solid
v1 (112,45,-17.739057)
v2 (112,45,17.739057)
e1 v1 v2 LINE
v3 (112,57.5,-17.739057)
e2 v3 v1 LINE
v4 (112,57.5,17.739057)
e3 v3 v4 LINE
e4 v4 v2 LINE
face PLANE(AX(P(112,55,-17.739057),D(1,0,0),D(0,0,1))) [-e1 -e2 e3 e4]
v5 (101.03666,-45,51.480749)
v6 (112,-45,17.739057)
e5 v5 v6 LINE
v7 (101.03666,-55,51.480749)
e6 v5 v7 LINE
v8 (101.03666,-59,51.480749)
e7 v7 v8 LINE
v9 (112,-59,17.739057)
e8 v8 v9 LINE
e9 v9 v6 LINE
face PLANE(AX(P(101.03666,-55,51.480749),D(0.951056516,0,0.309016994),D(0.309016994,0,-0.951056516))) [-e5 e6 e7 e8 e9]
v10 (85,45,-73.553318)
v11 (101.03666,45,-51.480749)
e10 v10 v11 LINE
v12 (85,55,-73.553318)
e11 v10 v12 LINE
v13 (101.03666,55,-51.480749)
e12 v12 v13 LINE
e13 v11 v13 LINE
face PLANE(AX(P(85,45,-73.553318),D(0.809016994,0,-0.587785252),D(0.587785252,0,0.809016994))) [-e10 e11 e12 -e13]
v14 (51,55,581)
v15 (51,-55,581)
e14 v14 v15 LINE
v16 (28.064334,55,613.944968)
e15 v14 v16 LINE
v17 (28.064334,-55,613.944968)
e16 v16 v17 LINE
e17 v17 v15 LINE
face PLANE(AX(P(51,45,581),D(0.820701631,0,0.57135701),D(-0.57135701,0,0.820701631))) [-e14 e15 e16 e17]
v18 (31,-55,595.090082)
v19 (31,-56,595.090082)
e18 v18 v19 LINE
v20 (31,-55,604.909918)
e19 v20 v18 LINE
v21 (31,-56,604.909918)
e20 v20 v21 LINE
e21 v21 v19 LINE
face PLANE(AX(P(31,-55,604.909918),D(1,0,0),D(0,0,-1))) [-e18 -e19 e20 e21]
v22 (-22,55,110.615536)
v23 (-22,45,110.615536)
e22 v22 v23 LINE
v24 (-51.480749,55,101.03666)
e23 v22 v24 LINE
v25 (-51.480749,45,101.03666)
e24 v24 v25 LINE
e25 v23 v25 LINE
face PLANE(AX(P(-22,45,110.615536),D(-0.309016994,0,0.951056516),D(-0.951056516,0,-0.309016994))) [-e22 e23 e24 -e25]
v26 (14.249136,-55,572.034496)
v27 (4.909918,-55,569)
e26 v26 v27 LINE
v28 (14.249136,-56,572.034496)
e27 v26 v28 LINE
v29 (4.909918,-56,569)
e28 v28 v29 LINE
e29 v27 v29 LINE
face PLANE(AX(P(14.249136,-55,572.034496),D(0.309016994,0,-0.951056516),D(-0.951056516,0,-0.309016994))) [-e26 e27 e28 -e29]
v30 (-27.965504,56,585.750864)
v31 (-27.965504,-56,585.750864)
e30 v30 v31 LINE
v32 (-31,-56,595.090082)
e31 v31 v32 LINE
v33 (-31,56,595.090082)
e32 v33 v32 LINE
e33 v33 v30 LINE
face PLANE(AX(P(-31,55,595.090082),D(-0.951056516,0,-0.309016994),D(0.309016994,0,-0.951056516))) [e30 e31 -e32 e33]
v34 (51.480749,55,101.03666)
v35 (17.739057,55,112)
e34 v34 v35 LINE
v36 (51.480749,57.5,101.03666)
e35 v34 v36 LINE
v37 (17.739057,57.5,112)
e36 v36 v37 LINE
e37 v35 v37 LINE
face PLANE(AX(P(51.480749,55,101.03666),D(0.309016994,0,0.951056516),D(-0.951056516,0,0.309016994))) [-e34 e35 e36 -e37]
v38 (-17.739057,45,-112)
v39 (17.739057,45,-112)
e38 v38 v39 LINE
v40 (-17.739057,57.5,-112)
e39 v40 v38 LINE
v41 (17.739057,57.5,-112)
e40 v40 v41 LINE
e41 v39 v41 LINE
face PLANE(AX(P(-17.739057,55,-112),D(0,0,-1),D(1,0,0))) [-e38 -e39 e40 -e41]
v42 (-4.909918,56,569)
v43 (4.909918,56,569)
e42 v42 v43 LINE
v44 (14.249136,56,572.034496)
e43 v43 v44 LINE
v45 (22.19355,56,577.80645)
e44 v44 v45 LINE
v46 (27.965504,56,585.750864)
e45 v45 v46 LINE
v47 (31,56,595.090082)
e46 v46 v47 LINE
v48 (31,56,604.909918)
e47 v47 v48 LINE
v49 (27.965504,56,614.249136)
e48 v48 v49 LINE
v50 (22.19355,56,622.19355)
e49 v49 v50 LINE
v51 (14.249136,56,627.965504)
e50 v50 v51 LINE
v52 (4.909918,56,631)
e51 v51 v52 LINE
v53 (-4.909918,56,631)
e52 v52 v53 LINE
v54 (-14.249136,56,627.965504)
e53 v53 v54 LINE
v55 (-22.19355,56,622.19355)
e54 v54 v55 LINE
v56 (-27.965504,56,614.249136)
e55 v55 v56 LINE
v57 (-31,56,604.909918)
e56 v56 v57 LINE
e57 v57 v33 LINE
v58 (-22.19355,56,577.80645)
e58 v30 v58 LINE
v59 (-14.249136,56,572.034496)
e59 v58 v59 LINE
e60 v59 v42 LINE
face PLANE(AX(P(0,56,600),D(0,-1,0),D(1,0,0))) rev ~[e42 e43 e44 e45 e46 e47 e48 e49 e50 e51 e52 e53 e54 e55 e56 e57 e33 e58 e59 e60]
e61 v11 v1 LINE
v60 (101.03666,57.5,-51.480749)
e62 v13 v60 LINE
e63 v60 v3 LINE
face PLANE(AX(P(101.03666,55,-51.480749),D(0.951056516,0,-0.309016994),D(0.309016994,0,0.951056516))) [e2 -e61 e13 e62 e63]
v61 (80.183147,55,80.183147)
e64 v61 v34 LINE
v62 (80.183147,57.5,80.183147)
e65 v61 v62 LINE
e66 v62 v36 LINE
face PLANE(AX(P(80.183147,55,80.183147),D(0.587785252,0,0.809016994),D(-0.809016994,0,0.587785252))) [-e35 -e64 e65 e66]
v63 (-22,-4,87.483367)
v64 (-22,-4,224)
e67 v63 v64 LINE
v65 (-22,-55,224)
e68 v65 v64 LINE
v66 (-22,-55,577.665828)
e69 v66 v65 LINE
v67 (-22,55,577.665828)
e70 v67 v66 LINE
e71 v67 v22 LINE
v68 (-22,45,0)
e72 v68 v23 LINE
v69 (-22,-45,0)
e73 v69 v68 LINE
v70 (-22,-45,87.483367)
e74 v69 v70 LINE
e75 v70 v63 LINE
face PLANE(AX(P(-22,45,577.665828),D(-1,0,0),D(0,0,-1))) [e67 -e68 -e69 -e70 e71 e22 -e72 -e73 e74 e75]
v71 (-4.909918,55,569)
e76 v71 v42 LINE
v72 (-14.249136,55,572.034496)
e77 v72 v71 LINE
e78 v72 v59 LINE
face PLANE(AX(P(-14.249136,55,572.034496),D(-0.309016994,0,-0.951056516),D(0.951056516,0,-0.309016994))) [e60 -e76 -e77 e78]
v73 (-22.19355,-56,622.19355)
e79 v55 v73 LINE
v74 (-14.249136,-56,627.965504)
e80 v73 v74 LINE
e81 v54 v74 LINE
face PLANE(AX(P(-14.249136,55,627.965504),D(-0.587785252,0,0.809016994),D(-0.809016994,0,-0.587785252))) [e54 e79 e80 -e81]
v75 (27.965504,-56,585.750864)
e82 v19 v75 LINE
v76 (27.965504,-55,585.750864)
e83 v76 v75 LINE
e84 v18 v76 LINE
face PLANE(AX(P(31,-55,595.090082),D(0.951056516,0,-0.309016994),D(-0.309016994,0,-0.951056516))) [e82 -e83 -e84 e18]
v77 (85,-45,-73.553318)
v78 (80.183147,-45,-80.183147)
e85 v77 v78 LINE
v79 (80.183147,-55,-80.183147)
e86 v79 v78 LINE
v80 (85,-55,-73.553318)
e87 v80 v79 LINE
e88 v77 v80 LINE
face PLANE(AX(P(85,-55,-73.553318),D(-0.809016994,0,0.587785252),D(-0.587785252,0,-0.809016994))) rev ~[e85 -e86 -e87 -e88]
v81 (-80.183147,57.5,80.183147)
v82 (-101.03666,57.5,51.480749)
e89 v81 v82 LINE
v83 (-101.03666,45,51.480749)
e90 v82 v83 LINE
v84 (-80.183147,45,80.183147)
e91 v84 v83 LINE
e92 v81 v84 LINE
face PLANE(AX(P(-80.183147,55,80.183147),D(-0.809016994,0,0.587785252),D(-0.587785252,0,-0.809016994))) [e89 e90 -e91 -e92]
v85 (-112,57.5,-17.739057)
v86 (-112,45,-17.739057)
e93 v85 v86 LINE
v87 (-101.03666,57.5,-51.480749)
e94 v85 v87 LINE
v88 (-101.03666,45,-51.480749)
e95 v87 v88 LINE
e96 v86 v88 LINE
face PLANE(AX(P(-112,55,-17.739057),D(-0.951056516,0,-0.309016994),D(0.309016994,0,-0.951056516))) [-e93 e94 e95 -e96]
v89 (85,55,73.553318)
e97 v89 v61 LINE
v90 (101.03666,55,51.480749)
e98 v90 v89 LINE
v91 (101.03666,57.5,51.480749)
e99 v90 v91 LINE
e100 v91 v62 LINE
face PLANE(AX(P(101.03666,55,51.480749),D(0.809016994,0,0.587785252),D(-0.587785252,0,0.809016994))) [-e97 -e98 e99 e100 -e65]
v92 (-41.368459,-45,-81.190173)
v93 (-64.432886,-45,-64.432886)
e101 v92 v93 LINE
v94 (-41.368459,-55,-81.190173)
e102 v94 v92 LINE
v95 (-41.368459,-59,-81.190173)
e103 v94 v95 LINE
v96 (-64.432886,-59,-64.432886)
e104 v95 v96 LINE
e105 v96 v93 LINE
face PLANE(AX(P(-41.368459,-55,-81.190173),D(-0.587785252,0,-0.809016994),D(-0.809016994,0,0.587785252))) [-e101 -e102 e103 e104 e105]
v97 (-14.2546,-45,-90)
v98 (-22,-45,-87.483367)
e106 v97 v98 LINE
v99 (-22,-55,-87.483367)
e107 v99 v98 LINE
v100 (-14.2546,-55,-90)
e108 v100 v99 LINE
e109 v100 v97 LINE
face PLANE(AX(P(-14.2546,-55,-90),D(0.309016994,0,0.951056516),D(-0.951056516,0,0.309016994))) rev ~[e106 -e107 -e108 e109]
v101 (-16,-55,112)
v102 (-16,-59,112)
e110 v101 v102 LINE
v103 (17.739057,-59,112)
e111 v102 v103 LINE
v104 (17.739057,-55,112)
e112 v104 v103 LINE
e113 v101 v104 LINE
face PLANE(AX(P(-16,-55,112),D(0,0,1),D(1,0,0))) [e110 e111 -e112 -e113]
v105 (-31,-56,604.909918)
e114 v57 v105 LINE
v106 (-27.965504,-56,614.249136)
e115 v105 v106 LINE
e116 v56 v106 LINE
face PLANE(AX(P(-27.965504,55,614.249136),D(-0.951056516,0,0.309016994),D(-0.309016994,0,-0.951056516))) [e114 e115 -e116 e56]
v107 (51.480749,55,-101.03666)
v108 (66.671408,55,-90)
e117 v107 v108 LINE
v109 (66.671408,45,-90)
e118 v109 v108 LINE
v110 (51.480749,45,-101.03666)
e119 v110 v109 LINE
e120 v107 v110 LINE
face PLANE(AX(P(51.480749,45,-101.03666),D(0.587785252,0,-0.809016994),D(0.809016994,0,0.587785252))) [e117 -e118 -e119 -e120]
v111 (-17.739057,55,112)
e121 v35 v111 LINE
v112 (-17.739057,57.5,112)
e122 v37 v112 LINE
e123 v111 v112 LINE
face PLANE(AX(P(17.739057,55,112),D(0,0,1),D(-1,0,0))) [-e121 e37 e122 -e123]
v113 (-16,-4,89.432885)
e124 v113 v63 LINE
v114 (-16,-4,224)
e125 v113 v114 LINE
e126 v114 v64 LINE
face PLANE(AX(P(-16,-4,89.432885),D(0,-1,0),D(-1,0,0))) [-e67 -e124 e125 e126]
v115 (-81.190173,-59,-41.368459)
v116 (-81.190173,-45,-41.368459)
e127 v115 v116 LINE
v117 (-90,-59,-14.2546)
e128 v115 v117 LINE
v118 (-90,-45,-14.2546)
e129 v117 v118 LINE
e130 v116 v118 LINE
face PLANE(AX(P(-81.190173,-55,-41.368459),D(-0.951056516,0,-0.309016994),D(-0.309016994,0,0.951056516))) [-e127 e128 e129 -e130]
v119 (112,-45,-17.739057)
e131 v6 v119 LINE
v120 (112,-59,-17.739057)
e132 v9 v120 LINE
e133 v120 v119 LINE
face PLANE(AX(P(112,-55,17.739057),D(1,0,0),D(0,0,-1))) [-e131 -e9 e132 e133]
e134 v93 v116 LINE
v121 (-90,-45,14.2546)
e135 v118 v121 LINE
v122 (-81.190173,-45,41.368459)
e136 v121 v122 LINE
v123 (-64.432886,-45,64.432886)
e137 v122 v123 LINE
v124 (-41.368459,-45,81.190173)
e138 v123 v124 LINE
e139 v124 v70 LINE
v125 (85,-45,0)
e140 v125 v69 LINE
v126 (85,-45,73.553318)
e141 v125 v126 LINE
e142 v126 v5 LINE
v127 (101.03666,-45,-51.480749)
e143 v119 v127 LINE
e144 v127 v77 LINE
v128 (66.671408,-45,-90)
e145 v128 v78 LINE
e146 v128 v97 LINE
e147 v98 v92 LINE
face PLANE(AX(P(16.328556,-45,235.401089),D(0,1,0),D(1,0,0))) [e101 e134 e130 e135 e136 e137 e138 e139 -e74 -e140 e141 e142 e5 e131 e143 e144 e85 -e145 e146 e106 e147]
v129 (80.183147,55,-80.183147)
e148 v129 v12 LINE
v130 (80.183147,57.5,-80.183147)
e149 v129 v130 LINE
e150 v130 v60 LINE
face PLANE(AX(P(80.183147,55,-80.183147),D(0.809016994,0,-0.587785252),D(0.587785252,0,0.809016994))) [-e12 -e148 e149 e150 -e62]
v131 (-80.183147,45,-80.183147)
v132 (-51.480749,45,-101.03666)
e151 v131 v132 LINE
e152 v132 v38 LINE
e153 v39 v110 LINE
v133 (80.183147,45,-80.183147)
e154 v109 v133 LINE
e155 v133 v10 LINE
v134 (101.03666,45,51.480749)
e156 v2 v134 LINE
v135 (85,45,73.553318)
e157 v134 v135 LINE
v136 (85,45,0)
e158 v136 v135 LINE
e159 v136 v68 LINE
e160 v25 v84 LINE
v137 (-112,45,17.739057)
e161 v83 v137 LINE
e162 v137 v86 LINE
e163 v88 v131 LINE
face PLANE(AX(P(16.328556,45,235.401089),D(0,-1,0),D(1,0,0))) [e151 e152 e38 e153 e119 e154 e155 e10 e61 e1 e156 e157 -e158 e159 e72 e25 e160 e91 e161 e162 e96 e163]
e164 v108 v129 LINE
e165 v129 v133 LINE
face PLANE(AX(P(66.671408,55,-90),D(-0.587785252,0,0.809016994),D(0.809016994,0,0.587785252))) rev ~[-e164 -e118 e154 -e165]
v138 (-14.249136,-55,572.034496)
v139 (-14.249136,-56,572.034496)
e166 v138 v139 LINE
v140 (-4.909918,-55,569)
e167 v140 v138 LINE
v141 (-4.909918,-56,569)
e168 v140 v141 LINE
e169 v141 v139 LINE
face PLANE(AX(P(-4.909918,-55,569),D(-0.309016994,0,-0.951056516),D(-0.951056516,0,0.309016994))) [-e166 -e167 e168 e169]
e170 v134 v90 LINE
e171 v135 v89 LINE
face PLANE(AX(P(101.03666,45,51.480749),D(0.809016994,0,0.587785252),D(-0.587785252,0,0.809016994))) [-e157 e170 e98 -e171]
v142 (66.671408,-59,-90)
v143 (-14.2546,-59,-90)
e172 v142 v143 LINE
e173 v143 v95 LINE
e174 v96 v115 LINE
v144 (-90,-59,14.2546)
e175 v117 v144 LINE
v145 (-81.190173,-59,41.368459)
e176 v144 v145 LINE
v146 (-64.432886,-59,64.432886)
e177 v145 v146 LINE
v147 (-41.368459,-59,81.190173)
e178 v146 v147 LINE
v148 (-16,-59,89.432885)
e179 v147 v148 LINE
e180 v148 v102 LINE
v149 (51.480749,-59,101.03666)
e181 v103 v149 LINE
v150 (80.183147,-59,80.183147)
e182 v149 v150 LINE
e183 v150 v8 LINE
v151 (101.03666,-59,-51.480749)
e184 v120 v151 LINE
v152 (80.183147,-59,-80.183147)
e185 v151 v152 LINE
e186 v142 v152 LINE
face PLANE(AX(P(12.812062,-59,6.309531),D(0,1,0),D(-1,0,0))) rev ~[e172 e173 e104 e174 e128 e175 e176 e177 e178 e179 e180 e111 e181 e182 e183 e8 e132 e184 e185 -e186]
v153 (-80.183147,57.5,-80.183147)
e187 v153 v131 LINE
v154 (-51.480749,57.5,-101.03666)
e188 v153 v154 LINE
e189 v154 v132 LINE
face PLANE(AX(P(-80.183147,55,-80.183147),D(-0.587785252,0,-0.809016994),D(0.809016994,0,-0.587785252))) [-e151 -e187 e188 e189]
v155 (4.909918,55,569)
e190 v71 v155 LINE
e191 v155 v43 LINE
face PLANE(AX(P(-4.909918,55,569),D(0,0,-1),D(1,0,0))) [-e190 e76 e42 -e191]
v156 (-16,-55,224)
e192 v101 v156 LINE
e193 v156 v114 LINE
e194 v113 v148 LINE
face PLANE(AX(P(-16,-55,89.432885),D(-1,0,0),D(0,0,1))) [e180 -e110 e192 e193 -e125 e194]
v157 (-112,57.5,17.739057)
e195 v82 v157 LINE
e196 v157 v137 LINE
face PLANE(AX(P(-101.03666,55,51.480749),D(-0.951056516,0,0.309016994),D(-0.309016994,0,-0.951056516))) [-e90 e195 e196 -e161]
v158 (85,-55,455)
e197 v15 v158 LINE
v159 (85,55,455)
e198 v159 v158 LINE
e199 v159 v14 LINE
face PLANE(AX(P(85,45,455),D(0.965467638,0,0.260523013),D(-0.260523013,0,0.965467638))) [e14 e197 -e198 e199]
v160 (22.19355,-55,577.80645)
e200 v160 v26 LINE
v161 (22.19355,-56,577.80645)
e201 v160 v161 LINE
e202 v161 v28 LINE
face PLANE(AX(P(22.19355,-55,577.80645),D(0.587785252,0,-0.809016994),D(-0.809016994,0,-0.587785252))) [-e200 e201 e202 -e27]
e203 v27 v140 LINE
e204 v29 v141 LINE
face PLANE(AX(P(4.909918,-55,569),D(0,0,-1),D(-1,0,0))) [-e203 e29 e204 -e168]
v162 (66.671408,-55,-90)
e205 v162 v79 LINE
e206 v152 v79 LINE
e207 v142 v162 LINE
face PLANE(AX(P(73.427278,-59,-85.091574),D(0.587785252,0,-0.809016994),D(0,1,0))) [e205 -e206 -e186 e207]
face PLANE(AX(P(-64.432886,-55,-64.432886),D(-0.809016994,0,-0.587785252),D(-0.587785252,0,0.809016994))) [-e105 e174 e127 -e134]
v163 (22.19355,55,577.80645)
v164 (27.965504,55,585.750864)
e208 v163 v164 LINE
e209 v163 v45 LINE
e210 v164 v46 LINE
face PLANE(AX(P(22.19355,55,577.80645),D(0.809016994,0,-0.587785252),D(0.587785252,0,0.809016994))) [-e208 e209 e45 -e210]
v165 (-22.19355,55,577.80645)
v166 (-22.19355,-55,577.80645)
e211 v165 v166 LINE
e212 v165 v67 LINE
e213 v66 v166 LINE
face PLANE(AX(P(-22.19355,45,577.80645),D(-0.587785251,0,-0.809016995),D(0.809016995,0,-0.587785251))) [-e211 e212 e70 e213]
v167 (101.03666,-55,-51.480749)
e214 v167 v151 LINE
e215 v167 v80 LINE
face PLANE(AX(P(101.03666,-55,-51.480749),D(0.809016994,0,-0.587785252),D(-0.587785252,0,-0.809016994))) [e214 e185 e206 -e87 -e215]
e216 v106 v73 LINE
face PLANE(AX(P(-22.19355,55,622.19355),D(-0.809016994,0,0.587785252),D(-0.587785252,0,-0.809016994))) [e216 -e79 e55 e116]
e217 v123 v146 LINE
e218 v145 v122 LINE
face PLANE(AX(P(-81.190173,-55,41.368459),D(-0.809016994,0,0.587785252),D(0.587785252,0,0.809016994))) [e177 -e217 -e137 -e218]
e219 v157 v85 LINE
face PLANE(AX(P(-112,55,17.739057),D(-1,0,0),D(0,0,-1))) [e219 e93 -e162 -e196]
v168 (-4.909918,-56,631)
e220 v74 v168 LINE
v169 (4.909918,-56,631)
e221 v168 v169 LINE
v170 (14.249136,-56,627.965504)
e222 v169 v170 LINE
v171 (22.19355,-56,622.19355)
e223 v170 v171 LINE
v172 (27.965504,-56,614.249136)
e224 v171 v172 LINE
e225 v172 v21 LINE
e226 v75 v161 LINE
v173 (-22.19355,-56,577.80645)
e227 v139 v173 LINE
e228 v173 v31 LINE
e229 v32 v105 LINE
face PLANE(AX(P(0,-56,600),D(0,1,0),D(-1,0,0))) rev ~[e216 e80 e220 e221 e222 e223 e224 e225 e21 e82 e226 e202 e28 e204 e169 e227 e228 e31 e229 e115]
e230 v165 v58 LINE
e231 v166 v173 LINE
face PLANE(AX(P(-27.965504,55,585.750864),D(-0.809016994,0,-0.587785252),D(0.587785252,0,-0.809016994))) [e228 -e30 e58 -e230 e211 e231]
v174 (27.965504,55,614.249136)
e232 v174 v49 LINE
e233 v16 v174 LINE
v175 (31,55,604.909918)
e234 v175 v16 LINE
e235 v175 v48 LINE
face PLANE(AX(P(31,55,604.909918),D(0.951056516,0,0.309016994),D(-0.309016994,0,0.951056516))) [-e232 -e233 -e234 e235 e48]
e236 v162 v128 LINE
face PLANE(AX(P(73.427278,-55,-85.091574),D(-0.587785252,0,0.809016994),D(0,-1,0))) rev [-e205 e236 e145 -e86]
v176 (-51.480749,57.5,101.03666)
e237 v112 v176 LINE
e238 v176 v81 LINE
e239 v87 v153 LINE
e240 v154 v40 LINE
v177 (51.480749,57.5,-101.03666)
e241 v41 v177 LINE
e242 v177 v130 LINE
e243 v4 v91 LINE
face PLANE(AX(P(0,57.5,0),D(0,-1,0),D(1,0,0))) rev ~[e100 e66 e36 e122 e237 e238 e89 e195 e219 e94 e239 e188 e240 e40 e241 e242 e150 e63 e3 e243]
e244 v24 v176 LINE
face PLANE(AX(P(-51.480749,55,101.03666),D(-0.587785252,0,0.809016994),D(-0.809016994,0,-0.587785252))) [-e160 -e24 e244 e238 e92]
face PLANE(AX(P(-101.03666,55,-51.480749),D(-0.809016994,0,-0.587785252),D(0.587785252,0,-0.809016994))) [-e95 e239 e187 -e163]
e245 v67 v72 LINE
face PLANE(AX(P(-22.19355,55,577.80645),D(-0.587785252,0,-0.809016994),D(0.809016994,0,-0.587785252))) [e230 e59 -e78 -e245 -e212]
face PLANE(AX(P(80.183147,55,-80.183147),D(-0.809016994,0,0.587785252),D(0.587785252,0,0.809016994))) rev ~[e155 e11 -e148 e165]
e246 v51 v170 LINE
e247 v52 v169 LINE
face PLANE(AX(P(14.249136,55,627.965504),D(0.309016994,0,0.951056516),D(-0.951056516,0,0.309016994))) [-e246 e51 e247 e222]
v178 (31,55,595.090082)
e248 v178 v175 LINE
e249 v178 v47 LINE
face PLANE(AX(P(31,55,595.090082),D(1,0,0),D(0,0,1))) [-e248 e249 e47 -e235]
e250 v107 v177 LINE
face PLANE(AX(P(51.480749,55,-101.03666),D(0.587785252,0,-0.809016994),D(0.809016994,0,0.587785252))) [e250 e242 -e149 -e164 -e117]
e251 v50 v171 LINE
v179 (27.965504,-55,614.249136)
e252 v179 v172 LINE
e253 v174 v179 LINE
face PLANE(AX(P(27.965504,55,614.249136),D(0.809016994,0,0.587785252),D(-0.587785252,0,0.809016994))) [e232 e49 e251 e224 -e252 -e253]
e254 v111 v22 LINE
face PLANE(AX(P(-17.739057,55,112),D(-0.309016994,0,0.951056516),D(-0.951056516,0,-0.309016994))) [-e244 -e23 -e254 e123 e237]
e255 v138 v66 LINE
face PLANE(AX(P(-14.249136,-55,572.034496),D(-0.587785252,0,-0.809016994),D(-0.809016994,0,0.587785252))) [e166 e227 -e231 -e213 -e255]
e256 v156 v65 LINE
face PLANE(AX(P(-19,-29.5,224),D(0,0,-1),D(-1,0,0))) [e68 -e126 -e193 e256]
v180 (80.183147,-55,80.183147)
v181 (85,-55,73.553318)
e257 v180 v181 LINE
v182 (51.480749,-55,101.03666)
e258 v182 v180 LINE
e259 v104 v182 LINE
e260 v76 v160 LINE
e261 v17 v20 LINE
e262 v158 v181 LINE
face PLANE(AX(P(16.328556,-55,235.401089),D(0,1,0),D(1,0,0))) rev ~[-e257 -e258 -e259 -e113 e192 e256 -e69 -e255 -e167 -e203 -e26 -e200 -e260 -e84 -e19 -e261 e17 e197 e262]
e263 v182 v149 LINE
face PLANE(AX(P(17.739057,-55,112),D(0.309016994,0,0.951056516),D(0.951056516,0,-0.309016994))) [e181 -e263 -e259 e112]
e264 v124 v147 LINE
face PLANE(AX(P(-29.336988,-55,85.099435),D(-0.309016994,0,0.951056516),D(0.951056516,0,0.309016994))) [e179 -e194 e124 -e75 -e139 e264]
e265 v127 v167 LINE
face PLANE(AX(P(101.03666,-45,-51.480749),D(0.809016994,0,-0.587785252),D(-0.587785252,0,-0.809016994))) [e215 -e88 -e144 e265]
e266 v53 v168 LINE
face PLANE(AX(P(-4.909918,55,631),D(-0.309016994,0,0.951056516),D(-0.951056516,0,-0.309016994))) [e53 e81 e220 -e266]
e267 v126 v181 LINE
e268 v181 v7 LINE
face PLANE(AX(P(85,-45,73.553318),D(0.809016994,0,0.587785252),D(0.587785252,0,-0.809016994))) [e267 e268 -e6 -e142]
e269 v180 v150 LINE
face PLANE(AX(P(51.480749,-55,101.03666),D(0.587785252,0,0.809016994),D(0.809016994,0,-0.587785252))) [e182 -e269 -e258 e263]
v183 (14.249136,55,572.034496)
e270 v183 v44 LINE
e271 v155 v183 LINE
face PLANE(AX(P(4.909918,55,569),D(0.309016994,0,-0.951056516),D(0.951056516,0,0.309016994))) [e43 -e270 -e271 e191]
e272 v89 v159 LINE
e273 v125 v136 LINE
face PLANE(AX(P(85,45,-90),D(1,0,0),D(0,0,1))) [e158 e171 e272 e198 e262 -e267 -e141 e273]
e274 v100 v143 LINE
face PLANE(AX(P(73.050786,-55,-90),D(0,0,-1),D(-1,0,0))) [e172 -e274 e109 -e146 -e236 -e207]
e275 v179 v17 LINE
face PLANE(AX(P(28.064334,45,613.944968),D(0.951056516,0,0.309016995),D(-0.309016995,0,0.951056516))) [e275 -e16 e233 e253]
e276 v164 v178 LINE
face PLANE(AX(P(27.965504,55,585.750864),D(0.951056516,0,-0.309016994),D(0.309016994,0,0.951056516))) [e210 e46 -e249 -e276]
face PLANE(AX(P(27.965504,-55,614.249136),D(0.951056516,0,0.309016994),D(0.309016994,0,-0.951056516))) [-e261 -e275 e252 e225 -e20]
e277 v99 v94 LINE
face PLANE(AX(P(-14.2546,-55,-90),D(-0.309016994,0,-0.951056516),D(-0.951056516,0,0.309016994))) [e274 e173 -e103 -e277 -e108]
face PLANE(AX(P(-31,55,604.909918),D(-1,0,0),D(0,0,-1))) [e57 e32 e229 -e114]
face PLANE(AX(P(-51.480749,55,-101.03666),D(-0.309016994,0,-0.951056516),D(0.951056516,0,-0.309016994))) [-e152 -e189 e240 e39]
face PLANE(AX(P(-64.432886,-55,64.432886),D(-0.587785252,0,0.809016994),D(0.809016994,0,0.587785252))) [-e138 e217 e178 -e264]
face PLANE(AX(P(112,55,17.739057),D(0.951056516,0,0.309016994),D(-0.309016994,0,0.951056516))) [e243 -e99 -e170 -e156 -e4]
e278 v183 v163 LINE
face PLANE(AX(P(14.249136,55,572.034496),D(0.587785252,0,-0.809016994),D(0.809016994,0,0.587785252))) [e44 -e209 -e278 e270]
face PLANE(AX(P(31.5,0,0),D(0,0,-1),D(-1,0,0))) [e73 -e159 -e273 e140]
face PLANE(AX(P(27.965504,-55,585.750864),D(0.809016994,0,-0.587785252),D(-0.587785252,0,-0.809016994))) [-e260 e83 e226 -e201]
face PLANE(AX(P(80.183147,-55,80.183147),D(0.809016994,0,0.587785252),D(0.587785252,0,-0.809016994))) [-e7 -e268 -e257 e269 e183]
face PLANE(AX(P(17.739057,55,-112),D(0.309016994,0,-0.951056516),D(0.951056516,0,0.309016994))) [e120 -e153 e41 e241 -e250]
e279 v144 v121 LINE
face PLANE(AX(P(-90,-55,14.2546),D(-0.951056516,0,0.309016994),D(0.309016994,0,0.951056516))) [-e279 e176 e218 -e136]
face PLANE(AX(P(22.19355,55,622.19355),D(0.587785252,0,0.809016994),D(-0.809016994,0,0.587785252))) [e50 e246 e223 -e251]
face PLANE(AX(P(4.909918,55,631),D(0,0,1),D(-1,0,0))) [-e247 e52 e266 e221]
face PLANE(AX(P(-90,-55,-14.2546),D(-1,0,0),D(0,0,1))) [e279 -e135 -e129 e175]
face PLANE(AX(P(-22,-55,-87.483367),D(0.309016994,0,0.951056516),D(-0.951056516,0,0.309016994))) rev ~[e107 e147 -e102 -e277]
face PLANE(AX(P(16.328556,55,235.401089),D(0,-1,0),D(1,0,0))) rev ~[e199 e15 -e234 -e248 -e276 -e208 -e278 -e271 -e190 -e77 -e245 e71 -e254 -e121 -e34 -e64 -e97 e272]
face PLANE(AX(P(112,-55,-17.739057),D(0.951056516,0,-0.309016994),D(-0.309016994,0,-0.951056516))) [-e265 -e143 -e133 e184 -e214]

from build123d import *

# Parameters (mm, degrees)
BOSS_EXTRUDE1_DEPTH = 10
BOSS_EXTRUDE2_DEPTH = 90
BOSS_EXTRUDE3_DEPTH = 10
CUT_EXTRUDE1_DEPTH  = 10
CUT_EXTRUDE2_DEPTH  = 90
CUT_EXTRUDE3_DEPTH  = 10
CUT_EXTRUDE4_DEPTH  = 10
CUT_EXTRUDE5_DEPTH  = 10
CUT_EXTRUDE6_DEPTH  = 9.81685291
SKETCH10_W          = 107
SKETCH10_H          = 90
CUT_EXTRUDE7_DEPTH  = 80.18314709
SKETCH11_W          = 6
SKETCH11_H          = 51
CUT_EXTRUDE8_DEPTH  = 134.567114958
BOSS_EXTRUDE4_DEPTH = 4
BOSS_EXTRUDE5_DEPTH = 1
BOSS_EXTRUDE6_DEPTH = 1
BOSS_EXTRUDE7_DEPTH = 2.5
DRAFT1_ANGLE        = 18
CHAMFER1_SIZE       = 6.379377731
CHAMFER1_SIZE2      = 12.134297522


with BuildPart() as part:
    # Sketch1 → Boss-Extrude1 (new body)
    with BuildSketch(Plane(origin=(0, -45, 0), x_dir=(1, 0, 0), z_dir=(0, 1, 0))):
        Polygon((101.03665965, 51.480749424), (85, 73.553317831), (85, 90), (66.671408228, 90), (51.480749424, 101.03665965), (17.739057316, 112), (-17.739057316, 112), (-51.480749424, 101.03665965), (-80.18314709, 80.18314709), (-101.03665965, 51.480749424), (-112, 17.739057316), (-112, -17.739057316), (-101.03665965, -51.480749424), (-80.18314709, -80.18314709), (-51.480749424, -101.03665965), (-22, -110.615535798), (-22, -577.665828314), (-22.193549641, -577.806450359), (-27.96550401, -585.750863999), (-31, -595.09008235), (-31, -604.90991765), (-27.96550401, -614.249136001), (-22.193549641, -622.193549641), (-14.249136001, -627.96550401), (-4.90991765, -631), (4.90991765, -631), (14.249136001, -627.96550401), (22.193549641, -622.193549641), (27.96550401, -614.249136001), (28.064334249, -613.944967802), (51, -581), (85, -455), (85, -73.553317831), (101.03665965, -51.480749424), (112, -17.739057316), (112, 17.739057316), align=None)
    extrude(amount=-BOSS_EXTRUDE1_DEPTH)

    # Sketch2 → Boss-Extrude2 (add)
    with BuildSketch(Plane(origin=(0, -45, 0), x_dir=(-1, 0, 0), z_dir=(0, 1, 0))):
        Polygon((-85, -90), (-85, 455), (-51, 581), (-28.064334249, 613.944967802), (-27.96550401, 614.249136001), (-22.193549641, 622.193549641), (-14.249136001, 627.96550401), (-4.90991765, 631), (4.90991765, 631), (14.249136001, 627.96550401), (22.193549641, 622.193549641), (27.96550401, 614.249136001), (31, 604.90991765), (31, 595.09008235), (27.96550401, 585.750863999), (22.193549641, 577.806450359), (22, 577.665828314), (22, 110.615535798), (51.480749424, 101.03665965), (80.18314709, 80.18314709), (101.03665965, 51.480749424), (112, 17.739057316), (112, -17.739057316), (101.03665965, -51.480749424), (80.18314709, -80.18314709), (51.480749424, -101.03665965), (17.739057316, -112), (-17.739057316, -112), (-51.480749424, -101.03665965), (-66.671408228, -90), align=None)
    extrude(amount=BOSS_EXTRUDE2_DEPTH)

    # Sketch3 → Boss-Extrude3 (add)
    with BuildSketch(Plane(origin=(0, 45, 0), x_dir=(-1, 0, 0), z_dir=(0, 1, 0))):
        Polygon((-85, -73.553317831), (-101.03665965, -51.480749424), (-112, -17.739057316), (-112, 17.739057316), (-101.03665965, 51.480749424), (-85, 73.553317831), (-85, 455), (-51, 581), (-28.064334249, 613.944967802), (-27.96550401, 614.249136001), (-22.193549641, 622.193549641), (-14.249136001, 627.96550401), (-4.90991765, 631), (4.90991765, 631), (14.249136001, 627.96550401), (22.193549641, 622.193549641), (27.96550401, 614.249136001), (31, 604.90991765), (31, 595.09008235), (27.96550401, 585.750863999), (22.193549641, 577.806450359), (22, 577.665828314), (22, 110.615535798), (51.480749424, 101.03665965), (80.18314709, 80.18314709), (101.03665965, 51.480749424), (112, 17.739057316), (112, -17.739057316), (101.03665965, -51.480749424), (80.18314709, -80.18314709), (51.480749424, -101.03665965), (17.739057316, -112), (-17.739057316, -112), (-51.480749424, -101.03665965), (-66.671408228, -90), (-85, -90), align=None)
    extrude(amount=BOSS_EXTRUDE3_DEPTH)

    # Sketch4 → Cut-Extrude1 (cut)
    with BuildSketch(Plane.XZ.offset(55)):
        Polygon((-30.023339436, 89.432885042), (-22, 89.432885042), (-22, 110.615535798), (-51.480749424, 101.03665965), (-80.18314709, 80.18314709), (-101.03665965, 51.480749424), (-112, 17.739057316), (-112, -17.739057316), (-101.03665965, -51.480749424), (-80.18314709, -80.18314709), (-51.480749424, -101.03665965), (-17.739057316, -112), (17.739057316, -112), (51.480749424, -101.03665965), (66.671408228, -90), (-22, -90), (-22, -87.483366864), (-41.368459358, -81.190172933), (-64.432886054, -64.432886054), (-81.190172933, -41.368459358), (-90, -14.254599629), (-90, 14.254599629), (-81.190172933, 41.368459358), (-64.432886054, 64.432886054), align=None)
    extrude(amount=-CUT_EXTRUDE1_DEPTH, mode=Mode.SUBTRACT)

    # Sketch5 → Cut-Extrude2 (cut)
    with BuildSketch(Plane.XZ.offset(45)):
        Polygon((66.671408228, -90), (-22, -90), (-22, 110.615535798), (-51.480749424, 101.03665965), (-80.18314709, 80.18314709), (-101.03665965, 51.480749424), (-112, 17.739057316), (-112, -17.739057316), (-101.03665965, -51.480749424), (-80.18314709, -80.18314709), (-51.480749424, -101.03665965), (-17.739057316, -112), (17.739057316, -112), (51.480749424, -101.03665965), align=None)
    extrude(amount=-CUT_EXTRUDE2_DEPTH, mode=Mode.SUBTRACT)

    # Sketch6 → Cut-Extrude3 (cut)
    with BuildSketch(Plane.XZ.offset(55)):
        Polygon((85, -90), (85, -73.553317831), (73.050785959, -90), align=None)
    extrude(amount=-CUT_EXTRUDE3_DEPTH, mode=Mode.SUBTRACT)

    # Sketch7 → Cut-Extrude4 (cut)
    with BuildSketch(Plane.XZ.offset(55)):
        Polygon((-14.254599629, -90), (-22, -87.483366864), (-22, -90), align=None)
    extrude(amount=-CUT_EXTRUDE4_DEPTH, mode=Mode.SUBTRACT)

    # Sketch8 → Cut-Extrude5 (cut)
    with BuildSketch(Plane(origin=(0, 55, 0), x_dir=(-1, 0, 0), z_dir=(0, 1, 0))):
        Polygon((-80.18314709, -80.18314709), (-85, -73.553317831), (-85, -90), (-66.671408228, -90), align=None)
    extrude(amount=-CUT_EXTRUDE5_DEPTH, mode=Mode.SUBTRACT)

    # Sketch9 → Cut-Extrude6 (cut)
    with BuildSketch(Plane(origin=(0, 0, -90), x_dir=(-1, 0, 0), z_dir=(0, 0, -1))):
        Polygon((-80.18314709, -45), (22, -45), (22, 45), (-80.18314709, 45), (-85, 45), (-85, -45), align=None)
    extrude(amount=-CUT_EXTRUDE6_DEPTH, mode=Mode.SUBTRACT)

    # Sketch10 → Cut-Extrude7 (cut)
    with BuildSketch(Plane(origin=(0, 0, -80.18314709), x_dir=(-1, 0, 0), z_dir=(0, 0, -1))):
        with Locations((-31.5, 0)):
            Rectangle(SKETCH10_W, SKETCH10_H)
    extrude(amount=-CUT_EXTRUDE7_DEPTH, mode=Mode.SUBTRACT)

    # Sketch11 → Cut-Extrude8 (cut)
    with BuildSketch(Plane(origin=(0, 0, 89.432885042), x_dir=(-1, 0, 0), z_dir=(0, 0, -1))):
        with Locations((19, -29.5)):
            Rectangle(SKETCH11_W, SKETCH11_H)
    extrude(amount=-CUT_EXTRUDE8_DEPTH, mode=Mode.SUBTRACT)

    # Sketch12 → Boss-Extrude4 (add)
    with BuildSketch(Plane.XZ.offset(55)):
        Polygon((-16, 89.432885042), (-16, 112), (17.739057316, 112), (51.480749424, 101.03665965), (80.18314709, 80.18314709), (101.03665965, 51.480749424), (112, 17.739057316), (112, -17.739057316), (101.03665965, -51.480749424), (73.050785959, -90), (-14.254599629, -90), (-41.368459358, -81.190172933), (-64.432886054, -64.432886054), (-81.190172933, -41.368459358), (-90, -14.254599629), (-90, 14.254599629), (-81.190172933, 41.368459358), (-64.432886054, 64.432886054), (-30.023339436, 89.432885042), align=None)
    extrude(amount=BOSS_EXTRUDE4_DEPTH)

    # Sketch13 → Boss-Extrude5 (add)
    with BuildSketch(Plane.XZ.offset(55)):
        Polygon((22.193549641, 577.806450359), (14.249136001, 572.03449599), (4.90991765, 569), (-4.90991765, 569), (-14.249136001, 572.03449599), (-22.193549641, 577.806450359), (-27.96550401, 585.750863999), (-31, 595.09008235), (-31, 604.90991765), (-27.96550401, 614.249136001), (-22.193549641, 622.193549641), (-14.249136001, 627.96550401), (-4.90991765, 631), (4.90991765, 631), (14.249136001, 627.96550401), (22.193549641, 622.193549641), (27.96550401, 614.249136001), (31, 604.90991765), (31, 595.09008235), (27.96550401, 585.750863999), align=None)
    extrude(amount=BOSS_EXTRUDE5_DEPTH)

    # Sketch14 → Boss-Extrude6 (add)
    with BuildSketch(Plane(origin=(0, 55, 0), x_dir=(-1, 0, 0), z_dir=(0, 1, 0))):
        Polygon((-14.249136001, 572.03449599), (-22.193549641, 577.806450359), (-27.96550401, 585.750863999), (-31, 595.09008235), (-31, 604.90991765), (-27.96550401, 614.249136001), (-22.193549641, 622.193549641), (-14.249136001, 627.96550401), (-4.90991765, 631), (4.90991765, 631), (14.249136001, 627.96550401), (22.193549641, 622.193549641), (27.96550401, 614.249136001), (31, 604.90991765), (31, 595.09008235), (27.96550401, 585.750863999), (22.193549641, 577.806450359), (14.249136001, 572.03449599), (4.90991765, 569), (-4.90991765, 569), align=None)
    extrude(amount=BOSS_EXTRUDE6_DEPTH)

    # Sketch15 → Boss-Extrude7 (add)
    with BuildSketch(Plane(origin=(0, 55, 0), x_dir=(-1, 0, 0), z_dir=(0, 1, 0))):
        Polygon((-80.18314709, -80.18314709), (-101.03665965, -51.480749424), (-112, -17.739057316), (-112, 17.739057316), (-101.03665965, 51.480749424), (-80.18314709, 80.18314709), (-51.480749424, 101.03665965), (-17.739057316, 112), (17.739057316, 112), (51.480749424, 101.03665965), (80.18314709, 80.18314709), (101.03665965, 51.480749424), (112, 17.739057316), (112, -17.739057316), (101.03665965, -51.480749424), (80.18314709, -80.18314709), (51.480749424, -101.03665965), (17.739057316, -112), (-17.739057316, -112), (-51.480749424, -101.03665965), align=None)
    extrude(amount=BOSS_EXTRUDE7_DEPTH)

    # Draft1
    draft1_faces = [part.faces().sort_by_distance(p)[0] for p in [
        (-20.780579815, -36.705876441, 89.432885042),
    ]]
    draft(draft1_faces, Plane(origin=(-16, -4, 224), x_dir=(0, 0, -1), z_dir=(-1, 0, 0)), DRAFT1_ANGLE)

    # Chamfer1
    chamfer1_edges = [part.edges().sort_by_distance(p)[0] for p in [
        (73.050785959, -52, -90),
    ]]
    chamfer1_side = [part.faces().sort_by_distance(p)[0] for p in [
        (29.398093165, -52, -90),
    ]]
    chamfer(chamfer1_edges, length=CHAMFER1_SIZE, length2=CHAMFER1_SIZE2, reference=chamfer1_side[0])


solid = part.part
